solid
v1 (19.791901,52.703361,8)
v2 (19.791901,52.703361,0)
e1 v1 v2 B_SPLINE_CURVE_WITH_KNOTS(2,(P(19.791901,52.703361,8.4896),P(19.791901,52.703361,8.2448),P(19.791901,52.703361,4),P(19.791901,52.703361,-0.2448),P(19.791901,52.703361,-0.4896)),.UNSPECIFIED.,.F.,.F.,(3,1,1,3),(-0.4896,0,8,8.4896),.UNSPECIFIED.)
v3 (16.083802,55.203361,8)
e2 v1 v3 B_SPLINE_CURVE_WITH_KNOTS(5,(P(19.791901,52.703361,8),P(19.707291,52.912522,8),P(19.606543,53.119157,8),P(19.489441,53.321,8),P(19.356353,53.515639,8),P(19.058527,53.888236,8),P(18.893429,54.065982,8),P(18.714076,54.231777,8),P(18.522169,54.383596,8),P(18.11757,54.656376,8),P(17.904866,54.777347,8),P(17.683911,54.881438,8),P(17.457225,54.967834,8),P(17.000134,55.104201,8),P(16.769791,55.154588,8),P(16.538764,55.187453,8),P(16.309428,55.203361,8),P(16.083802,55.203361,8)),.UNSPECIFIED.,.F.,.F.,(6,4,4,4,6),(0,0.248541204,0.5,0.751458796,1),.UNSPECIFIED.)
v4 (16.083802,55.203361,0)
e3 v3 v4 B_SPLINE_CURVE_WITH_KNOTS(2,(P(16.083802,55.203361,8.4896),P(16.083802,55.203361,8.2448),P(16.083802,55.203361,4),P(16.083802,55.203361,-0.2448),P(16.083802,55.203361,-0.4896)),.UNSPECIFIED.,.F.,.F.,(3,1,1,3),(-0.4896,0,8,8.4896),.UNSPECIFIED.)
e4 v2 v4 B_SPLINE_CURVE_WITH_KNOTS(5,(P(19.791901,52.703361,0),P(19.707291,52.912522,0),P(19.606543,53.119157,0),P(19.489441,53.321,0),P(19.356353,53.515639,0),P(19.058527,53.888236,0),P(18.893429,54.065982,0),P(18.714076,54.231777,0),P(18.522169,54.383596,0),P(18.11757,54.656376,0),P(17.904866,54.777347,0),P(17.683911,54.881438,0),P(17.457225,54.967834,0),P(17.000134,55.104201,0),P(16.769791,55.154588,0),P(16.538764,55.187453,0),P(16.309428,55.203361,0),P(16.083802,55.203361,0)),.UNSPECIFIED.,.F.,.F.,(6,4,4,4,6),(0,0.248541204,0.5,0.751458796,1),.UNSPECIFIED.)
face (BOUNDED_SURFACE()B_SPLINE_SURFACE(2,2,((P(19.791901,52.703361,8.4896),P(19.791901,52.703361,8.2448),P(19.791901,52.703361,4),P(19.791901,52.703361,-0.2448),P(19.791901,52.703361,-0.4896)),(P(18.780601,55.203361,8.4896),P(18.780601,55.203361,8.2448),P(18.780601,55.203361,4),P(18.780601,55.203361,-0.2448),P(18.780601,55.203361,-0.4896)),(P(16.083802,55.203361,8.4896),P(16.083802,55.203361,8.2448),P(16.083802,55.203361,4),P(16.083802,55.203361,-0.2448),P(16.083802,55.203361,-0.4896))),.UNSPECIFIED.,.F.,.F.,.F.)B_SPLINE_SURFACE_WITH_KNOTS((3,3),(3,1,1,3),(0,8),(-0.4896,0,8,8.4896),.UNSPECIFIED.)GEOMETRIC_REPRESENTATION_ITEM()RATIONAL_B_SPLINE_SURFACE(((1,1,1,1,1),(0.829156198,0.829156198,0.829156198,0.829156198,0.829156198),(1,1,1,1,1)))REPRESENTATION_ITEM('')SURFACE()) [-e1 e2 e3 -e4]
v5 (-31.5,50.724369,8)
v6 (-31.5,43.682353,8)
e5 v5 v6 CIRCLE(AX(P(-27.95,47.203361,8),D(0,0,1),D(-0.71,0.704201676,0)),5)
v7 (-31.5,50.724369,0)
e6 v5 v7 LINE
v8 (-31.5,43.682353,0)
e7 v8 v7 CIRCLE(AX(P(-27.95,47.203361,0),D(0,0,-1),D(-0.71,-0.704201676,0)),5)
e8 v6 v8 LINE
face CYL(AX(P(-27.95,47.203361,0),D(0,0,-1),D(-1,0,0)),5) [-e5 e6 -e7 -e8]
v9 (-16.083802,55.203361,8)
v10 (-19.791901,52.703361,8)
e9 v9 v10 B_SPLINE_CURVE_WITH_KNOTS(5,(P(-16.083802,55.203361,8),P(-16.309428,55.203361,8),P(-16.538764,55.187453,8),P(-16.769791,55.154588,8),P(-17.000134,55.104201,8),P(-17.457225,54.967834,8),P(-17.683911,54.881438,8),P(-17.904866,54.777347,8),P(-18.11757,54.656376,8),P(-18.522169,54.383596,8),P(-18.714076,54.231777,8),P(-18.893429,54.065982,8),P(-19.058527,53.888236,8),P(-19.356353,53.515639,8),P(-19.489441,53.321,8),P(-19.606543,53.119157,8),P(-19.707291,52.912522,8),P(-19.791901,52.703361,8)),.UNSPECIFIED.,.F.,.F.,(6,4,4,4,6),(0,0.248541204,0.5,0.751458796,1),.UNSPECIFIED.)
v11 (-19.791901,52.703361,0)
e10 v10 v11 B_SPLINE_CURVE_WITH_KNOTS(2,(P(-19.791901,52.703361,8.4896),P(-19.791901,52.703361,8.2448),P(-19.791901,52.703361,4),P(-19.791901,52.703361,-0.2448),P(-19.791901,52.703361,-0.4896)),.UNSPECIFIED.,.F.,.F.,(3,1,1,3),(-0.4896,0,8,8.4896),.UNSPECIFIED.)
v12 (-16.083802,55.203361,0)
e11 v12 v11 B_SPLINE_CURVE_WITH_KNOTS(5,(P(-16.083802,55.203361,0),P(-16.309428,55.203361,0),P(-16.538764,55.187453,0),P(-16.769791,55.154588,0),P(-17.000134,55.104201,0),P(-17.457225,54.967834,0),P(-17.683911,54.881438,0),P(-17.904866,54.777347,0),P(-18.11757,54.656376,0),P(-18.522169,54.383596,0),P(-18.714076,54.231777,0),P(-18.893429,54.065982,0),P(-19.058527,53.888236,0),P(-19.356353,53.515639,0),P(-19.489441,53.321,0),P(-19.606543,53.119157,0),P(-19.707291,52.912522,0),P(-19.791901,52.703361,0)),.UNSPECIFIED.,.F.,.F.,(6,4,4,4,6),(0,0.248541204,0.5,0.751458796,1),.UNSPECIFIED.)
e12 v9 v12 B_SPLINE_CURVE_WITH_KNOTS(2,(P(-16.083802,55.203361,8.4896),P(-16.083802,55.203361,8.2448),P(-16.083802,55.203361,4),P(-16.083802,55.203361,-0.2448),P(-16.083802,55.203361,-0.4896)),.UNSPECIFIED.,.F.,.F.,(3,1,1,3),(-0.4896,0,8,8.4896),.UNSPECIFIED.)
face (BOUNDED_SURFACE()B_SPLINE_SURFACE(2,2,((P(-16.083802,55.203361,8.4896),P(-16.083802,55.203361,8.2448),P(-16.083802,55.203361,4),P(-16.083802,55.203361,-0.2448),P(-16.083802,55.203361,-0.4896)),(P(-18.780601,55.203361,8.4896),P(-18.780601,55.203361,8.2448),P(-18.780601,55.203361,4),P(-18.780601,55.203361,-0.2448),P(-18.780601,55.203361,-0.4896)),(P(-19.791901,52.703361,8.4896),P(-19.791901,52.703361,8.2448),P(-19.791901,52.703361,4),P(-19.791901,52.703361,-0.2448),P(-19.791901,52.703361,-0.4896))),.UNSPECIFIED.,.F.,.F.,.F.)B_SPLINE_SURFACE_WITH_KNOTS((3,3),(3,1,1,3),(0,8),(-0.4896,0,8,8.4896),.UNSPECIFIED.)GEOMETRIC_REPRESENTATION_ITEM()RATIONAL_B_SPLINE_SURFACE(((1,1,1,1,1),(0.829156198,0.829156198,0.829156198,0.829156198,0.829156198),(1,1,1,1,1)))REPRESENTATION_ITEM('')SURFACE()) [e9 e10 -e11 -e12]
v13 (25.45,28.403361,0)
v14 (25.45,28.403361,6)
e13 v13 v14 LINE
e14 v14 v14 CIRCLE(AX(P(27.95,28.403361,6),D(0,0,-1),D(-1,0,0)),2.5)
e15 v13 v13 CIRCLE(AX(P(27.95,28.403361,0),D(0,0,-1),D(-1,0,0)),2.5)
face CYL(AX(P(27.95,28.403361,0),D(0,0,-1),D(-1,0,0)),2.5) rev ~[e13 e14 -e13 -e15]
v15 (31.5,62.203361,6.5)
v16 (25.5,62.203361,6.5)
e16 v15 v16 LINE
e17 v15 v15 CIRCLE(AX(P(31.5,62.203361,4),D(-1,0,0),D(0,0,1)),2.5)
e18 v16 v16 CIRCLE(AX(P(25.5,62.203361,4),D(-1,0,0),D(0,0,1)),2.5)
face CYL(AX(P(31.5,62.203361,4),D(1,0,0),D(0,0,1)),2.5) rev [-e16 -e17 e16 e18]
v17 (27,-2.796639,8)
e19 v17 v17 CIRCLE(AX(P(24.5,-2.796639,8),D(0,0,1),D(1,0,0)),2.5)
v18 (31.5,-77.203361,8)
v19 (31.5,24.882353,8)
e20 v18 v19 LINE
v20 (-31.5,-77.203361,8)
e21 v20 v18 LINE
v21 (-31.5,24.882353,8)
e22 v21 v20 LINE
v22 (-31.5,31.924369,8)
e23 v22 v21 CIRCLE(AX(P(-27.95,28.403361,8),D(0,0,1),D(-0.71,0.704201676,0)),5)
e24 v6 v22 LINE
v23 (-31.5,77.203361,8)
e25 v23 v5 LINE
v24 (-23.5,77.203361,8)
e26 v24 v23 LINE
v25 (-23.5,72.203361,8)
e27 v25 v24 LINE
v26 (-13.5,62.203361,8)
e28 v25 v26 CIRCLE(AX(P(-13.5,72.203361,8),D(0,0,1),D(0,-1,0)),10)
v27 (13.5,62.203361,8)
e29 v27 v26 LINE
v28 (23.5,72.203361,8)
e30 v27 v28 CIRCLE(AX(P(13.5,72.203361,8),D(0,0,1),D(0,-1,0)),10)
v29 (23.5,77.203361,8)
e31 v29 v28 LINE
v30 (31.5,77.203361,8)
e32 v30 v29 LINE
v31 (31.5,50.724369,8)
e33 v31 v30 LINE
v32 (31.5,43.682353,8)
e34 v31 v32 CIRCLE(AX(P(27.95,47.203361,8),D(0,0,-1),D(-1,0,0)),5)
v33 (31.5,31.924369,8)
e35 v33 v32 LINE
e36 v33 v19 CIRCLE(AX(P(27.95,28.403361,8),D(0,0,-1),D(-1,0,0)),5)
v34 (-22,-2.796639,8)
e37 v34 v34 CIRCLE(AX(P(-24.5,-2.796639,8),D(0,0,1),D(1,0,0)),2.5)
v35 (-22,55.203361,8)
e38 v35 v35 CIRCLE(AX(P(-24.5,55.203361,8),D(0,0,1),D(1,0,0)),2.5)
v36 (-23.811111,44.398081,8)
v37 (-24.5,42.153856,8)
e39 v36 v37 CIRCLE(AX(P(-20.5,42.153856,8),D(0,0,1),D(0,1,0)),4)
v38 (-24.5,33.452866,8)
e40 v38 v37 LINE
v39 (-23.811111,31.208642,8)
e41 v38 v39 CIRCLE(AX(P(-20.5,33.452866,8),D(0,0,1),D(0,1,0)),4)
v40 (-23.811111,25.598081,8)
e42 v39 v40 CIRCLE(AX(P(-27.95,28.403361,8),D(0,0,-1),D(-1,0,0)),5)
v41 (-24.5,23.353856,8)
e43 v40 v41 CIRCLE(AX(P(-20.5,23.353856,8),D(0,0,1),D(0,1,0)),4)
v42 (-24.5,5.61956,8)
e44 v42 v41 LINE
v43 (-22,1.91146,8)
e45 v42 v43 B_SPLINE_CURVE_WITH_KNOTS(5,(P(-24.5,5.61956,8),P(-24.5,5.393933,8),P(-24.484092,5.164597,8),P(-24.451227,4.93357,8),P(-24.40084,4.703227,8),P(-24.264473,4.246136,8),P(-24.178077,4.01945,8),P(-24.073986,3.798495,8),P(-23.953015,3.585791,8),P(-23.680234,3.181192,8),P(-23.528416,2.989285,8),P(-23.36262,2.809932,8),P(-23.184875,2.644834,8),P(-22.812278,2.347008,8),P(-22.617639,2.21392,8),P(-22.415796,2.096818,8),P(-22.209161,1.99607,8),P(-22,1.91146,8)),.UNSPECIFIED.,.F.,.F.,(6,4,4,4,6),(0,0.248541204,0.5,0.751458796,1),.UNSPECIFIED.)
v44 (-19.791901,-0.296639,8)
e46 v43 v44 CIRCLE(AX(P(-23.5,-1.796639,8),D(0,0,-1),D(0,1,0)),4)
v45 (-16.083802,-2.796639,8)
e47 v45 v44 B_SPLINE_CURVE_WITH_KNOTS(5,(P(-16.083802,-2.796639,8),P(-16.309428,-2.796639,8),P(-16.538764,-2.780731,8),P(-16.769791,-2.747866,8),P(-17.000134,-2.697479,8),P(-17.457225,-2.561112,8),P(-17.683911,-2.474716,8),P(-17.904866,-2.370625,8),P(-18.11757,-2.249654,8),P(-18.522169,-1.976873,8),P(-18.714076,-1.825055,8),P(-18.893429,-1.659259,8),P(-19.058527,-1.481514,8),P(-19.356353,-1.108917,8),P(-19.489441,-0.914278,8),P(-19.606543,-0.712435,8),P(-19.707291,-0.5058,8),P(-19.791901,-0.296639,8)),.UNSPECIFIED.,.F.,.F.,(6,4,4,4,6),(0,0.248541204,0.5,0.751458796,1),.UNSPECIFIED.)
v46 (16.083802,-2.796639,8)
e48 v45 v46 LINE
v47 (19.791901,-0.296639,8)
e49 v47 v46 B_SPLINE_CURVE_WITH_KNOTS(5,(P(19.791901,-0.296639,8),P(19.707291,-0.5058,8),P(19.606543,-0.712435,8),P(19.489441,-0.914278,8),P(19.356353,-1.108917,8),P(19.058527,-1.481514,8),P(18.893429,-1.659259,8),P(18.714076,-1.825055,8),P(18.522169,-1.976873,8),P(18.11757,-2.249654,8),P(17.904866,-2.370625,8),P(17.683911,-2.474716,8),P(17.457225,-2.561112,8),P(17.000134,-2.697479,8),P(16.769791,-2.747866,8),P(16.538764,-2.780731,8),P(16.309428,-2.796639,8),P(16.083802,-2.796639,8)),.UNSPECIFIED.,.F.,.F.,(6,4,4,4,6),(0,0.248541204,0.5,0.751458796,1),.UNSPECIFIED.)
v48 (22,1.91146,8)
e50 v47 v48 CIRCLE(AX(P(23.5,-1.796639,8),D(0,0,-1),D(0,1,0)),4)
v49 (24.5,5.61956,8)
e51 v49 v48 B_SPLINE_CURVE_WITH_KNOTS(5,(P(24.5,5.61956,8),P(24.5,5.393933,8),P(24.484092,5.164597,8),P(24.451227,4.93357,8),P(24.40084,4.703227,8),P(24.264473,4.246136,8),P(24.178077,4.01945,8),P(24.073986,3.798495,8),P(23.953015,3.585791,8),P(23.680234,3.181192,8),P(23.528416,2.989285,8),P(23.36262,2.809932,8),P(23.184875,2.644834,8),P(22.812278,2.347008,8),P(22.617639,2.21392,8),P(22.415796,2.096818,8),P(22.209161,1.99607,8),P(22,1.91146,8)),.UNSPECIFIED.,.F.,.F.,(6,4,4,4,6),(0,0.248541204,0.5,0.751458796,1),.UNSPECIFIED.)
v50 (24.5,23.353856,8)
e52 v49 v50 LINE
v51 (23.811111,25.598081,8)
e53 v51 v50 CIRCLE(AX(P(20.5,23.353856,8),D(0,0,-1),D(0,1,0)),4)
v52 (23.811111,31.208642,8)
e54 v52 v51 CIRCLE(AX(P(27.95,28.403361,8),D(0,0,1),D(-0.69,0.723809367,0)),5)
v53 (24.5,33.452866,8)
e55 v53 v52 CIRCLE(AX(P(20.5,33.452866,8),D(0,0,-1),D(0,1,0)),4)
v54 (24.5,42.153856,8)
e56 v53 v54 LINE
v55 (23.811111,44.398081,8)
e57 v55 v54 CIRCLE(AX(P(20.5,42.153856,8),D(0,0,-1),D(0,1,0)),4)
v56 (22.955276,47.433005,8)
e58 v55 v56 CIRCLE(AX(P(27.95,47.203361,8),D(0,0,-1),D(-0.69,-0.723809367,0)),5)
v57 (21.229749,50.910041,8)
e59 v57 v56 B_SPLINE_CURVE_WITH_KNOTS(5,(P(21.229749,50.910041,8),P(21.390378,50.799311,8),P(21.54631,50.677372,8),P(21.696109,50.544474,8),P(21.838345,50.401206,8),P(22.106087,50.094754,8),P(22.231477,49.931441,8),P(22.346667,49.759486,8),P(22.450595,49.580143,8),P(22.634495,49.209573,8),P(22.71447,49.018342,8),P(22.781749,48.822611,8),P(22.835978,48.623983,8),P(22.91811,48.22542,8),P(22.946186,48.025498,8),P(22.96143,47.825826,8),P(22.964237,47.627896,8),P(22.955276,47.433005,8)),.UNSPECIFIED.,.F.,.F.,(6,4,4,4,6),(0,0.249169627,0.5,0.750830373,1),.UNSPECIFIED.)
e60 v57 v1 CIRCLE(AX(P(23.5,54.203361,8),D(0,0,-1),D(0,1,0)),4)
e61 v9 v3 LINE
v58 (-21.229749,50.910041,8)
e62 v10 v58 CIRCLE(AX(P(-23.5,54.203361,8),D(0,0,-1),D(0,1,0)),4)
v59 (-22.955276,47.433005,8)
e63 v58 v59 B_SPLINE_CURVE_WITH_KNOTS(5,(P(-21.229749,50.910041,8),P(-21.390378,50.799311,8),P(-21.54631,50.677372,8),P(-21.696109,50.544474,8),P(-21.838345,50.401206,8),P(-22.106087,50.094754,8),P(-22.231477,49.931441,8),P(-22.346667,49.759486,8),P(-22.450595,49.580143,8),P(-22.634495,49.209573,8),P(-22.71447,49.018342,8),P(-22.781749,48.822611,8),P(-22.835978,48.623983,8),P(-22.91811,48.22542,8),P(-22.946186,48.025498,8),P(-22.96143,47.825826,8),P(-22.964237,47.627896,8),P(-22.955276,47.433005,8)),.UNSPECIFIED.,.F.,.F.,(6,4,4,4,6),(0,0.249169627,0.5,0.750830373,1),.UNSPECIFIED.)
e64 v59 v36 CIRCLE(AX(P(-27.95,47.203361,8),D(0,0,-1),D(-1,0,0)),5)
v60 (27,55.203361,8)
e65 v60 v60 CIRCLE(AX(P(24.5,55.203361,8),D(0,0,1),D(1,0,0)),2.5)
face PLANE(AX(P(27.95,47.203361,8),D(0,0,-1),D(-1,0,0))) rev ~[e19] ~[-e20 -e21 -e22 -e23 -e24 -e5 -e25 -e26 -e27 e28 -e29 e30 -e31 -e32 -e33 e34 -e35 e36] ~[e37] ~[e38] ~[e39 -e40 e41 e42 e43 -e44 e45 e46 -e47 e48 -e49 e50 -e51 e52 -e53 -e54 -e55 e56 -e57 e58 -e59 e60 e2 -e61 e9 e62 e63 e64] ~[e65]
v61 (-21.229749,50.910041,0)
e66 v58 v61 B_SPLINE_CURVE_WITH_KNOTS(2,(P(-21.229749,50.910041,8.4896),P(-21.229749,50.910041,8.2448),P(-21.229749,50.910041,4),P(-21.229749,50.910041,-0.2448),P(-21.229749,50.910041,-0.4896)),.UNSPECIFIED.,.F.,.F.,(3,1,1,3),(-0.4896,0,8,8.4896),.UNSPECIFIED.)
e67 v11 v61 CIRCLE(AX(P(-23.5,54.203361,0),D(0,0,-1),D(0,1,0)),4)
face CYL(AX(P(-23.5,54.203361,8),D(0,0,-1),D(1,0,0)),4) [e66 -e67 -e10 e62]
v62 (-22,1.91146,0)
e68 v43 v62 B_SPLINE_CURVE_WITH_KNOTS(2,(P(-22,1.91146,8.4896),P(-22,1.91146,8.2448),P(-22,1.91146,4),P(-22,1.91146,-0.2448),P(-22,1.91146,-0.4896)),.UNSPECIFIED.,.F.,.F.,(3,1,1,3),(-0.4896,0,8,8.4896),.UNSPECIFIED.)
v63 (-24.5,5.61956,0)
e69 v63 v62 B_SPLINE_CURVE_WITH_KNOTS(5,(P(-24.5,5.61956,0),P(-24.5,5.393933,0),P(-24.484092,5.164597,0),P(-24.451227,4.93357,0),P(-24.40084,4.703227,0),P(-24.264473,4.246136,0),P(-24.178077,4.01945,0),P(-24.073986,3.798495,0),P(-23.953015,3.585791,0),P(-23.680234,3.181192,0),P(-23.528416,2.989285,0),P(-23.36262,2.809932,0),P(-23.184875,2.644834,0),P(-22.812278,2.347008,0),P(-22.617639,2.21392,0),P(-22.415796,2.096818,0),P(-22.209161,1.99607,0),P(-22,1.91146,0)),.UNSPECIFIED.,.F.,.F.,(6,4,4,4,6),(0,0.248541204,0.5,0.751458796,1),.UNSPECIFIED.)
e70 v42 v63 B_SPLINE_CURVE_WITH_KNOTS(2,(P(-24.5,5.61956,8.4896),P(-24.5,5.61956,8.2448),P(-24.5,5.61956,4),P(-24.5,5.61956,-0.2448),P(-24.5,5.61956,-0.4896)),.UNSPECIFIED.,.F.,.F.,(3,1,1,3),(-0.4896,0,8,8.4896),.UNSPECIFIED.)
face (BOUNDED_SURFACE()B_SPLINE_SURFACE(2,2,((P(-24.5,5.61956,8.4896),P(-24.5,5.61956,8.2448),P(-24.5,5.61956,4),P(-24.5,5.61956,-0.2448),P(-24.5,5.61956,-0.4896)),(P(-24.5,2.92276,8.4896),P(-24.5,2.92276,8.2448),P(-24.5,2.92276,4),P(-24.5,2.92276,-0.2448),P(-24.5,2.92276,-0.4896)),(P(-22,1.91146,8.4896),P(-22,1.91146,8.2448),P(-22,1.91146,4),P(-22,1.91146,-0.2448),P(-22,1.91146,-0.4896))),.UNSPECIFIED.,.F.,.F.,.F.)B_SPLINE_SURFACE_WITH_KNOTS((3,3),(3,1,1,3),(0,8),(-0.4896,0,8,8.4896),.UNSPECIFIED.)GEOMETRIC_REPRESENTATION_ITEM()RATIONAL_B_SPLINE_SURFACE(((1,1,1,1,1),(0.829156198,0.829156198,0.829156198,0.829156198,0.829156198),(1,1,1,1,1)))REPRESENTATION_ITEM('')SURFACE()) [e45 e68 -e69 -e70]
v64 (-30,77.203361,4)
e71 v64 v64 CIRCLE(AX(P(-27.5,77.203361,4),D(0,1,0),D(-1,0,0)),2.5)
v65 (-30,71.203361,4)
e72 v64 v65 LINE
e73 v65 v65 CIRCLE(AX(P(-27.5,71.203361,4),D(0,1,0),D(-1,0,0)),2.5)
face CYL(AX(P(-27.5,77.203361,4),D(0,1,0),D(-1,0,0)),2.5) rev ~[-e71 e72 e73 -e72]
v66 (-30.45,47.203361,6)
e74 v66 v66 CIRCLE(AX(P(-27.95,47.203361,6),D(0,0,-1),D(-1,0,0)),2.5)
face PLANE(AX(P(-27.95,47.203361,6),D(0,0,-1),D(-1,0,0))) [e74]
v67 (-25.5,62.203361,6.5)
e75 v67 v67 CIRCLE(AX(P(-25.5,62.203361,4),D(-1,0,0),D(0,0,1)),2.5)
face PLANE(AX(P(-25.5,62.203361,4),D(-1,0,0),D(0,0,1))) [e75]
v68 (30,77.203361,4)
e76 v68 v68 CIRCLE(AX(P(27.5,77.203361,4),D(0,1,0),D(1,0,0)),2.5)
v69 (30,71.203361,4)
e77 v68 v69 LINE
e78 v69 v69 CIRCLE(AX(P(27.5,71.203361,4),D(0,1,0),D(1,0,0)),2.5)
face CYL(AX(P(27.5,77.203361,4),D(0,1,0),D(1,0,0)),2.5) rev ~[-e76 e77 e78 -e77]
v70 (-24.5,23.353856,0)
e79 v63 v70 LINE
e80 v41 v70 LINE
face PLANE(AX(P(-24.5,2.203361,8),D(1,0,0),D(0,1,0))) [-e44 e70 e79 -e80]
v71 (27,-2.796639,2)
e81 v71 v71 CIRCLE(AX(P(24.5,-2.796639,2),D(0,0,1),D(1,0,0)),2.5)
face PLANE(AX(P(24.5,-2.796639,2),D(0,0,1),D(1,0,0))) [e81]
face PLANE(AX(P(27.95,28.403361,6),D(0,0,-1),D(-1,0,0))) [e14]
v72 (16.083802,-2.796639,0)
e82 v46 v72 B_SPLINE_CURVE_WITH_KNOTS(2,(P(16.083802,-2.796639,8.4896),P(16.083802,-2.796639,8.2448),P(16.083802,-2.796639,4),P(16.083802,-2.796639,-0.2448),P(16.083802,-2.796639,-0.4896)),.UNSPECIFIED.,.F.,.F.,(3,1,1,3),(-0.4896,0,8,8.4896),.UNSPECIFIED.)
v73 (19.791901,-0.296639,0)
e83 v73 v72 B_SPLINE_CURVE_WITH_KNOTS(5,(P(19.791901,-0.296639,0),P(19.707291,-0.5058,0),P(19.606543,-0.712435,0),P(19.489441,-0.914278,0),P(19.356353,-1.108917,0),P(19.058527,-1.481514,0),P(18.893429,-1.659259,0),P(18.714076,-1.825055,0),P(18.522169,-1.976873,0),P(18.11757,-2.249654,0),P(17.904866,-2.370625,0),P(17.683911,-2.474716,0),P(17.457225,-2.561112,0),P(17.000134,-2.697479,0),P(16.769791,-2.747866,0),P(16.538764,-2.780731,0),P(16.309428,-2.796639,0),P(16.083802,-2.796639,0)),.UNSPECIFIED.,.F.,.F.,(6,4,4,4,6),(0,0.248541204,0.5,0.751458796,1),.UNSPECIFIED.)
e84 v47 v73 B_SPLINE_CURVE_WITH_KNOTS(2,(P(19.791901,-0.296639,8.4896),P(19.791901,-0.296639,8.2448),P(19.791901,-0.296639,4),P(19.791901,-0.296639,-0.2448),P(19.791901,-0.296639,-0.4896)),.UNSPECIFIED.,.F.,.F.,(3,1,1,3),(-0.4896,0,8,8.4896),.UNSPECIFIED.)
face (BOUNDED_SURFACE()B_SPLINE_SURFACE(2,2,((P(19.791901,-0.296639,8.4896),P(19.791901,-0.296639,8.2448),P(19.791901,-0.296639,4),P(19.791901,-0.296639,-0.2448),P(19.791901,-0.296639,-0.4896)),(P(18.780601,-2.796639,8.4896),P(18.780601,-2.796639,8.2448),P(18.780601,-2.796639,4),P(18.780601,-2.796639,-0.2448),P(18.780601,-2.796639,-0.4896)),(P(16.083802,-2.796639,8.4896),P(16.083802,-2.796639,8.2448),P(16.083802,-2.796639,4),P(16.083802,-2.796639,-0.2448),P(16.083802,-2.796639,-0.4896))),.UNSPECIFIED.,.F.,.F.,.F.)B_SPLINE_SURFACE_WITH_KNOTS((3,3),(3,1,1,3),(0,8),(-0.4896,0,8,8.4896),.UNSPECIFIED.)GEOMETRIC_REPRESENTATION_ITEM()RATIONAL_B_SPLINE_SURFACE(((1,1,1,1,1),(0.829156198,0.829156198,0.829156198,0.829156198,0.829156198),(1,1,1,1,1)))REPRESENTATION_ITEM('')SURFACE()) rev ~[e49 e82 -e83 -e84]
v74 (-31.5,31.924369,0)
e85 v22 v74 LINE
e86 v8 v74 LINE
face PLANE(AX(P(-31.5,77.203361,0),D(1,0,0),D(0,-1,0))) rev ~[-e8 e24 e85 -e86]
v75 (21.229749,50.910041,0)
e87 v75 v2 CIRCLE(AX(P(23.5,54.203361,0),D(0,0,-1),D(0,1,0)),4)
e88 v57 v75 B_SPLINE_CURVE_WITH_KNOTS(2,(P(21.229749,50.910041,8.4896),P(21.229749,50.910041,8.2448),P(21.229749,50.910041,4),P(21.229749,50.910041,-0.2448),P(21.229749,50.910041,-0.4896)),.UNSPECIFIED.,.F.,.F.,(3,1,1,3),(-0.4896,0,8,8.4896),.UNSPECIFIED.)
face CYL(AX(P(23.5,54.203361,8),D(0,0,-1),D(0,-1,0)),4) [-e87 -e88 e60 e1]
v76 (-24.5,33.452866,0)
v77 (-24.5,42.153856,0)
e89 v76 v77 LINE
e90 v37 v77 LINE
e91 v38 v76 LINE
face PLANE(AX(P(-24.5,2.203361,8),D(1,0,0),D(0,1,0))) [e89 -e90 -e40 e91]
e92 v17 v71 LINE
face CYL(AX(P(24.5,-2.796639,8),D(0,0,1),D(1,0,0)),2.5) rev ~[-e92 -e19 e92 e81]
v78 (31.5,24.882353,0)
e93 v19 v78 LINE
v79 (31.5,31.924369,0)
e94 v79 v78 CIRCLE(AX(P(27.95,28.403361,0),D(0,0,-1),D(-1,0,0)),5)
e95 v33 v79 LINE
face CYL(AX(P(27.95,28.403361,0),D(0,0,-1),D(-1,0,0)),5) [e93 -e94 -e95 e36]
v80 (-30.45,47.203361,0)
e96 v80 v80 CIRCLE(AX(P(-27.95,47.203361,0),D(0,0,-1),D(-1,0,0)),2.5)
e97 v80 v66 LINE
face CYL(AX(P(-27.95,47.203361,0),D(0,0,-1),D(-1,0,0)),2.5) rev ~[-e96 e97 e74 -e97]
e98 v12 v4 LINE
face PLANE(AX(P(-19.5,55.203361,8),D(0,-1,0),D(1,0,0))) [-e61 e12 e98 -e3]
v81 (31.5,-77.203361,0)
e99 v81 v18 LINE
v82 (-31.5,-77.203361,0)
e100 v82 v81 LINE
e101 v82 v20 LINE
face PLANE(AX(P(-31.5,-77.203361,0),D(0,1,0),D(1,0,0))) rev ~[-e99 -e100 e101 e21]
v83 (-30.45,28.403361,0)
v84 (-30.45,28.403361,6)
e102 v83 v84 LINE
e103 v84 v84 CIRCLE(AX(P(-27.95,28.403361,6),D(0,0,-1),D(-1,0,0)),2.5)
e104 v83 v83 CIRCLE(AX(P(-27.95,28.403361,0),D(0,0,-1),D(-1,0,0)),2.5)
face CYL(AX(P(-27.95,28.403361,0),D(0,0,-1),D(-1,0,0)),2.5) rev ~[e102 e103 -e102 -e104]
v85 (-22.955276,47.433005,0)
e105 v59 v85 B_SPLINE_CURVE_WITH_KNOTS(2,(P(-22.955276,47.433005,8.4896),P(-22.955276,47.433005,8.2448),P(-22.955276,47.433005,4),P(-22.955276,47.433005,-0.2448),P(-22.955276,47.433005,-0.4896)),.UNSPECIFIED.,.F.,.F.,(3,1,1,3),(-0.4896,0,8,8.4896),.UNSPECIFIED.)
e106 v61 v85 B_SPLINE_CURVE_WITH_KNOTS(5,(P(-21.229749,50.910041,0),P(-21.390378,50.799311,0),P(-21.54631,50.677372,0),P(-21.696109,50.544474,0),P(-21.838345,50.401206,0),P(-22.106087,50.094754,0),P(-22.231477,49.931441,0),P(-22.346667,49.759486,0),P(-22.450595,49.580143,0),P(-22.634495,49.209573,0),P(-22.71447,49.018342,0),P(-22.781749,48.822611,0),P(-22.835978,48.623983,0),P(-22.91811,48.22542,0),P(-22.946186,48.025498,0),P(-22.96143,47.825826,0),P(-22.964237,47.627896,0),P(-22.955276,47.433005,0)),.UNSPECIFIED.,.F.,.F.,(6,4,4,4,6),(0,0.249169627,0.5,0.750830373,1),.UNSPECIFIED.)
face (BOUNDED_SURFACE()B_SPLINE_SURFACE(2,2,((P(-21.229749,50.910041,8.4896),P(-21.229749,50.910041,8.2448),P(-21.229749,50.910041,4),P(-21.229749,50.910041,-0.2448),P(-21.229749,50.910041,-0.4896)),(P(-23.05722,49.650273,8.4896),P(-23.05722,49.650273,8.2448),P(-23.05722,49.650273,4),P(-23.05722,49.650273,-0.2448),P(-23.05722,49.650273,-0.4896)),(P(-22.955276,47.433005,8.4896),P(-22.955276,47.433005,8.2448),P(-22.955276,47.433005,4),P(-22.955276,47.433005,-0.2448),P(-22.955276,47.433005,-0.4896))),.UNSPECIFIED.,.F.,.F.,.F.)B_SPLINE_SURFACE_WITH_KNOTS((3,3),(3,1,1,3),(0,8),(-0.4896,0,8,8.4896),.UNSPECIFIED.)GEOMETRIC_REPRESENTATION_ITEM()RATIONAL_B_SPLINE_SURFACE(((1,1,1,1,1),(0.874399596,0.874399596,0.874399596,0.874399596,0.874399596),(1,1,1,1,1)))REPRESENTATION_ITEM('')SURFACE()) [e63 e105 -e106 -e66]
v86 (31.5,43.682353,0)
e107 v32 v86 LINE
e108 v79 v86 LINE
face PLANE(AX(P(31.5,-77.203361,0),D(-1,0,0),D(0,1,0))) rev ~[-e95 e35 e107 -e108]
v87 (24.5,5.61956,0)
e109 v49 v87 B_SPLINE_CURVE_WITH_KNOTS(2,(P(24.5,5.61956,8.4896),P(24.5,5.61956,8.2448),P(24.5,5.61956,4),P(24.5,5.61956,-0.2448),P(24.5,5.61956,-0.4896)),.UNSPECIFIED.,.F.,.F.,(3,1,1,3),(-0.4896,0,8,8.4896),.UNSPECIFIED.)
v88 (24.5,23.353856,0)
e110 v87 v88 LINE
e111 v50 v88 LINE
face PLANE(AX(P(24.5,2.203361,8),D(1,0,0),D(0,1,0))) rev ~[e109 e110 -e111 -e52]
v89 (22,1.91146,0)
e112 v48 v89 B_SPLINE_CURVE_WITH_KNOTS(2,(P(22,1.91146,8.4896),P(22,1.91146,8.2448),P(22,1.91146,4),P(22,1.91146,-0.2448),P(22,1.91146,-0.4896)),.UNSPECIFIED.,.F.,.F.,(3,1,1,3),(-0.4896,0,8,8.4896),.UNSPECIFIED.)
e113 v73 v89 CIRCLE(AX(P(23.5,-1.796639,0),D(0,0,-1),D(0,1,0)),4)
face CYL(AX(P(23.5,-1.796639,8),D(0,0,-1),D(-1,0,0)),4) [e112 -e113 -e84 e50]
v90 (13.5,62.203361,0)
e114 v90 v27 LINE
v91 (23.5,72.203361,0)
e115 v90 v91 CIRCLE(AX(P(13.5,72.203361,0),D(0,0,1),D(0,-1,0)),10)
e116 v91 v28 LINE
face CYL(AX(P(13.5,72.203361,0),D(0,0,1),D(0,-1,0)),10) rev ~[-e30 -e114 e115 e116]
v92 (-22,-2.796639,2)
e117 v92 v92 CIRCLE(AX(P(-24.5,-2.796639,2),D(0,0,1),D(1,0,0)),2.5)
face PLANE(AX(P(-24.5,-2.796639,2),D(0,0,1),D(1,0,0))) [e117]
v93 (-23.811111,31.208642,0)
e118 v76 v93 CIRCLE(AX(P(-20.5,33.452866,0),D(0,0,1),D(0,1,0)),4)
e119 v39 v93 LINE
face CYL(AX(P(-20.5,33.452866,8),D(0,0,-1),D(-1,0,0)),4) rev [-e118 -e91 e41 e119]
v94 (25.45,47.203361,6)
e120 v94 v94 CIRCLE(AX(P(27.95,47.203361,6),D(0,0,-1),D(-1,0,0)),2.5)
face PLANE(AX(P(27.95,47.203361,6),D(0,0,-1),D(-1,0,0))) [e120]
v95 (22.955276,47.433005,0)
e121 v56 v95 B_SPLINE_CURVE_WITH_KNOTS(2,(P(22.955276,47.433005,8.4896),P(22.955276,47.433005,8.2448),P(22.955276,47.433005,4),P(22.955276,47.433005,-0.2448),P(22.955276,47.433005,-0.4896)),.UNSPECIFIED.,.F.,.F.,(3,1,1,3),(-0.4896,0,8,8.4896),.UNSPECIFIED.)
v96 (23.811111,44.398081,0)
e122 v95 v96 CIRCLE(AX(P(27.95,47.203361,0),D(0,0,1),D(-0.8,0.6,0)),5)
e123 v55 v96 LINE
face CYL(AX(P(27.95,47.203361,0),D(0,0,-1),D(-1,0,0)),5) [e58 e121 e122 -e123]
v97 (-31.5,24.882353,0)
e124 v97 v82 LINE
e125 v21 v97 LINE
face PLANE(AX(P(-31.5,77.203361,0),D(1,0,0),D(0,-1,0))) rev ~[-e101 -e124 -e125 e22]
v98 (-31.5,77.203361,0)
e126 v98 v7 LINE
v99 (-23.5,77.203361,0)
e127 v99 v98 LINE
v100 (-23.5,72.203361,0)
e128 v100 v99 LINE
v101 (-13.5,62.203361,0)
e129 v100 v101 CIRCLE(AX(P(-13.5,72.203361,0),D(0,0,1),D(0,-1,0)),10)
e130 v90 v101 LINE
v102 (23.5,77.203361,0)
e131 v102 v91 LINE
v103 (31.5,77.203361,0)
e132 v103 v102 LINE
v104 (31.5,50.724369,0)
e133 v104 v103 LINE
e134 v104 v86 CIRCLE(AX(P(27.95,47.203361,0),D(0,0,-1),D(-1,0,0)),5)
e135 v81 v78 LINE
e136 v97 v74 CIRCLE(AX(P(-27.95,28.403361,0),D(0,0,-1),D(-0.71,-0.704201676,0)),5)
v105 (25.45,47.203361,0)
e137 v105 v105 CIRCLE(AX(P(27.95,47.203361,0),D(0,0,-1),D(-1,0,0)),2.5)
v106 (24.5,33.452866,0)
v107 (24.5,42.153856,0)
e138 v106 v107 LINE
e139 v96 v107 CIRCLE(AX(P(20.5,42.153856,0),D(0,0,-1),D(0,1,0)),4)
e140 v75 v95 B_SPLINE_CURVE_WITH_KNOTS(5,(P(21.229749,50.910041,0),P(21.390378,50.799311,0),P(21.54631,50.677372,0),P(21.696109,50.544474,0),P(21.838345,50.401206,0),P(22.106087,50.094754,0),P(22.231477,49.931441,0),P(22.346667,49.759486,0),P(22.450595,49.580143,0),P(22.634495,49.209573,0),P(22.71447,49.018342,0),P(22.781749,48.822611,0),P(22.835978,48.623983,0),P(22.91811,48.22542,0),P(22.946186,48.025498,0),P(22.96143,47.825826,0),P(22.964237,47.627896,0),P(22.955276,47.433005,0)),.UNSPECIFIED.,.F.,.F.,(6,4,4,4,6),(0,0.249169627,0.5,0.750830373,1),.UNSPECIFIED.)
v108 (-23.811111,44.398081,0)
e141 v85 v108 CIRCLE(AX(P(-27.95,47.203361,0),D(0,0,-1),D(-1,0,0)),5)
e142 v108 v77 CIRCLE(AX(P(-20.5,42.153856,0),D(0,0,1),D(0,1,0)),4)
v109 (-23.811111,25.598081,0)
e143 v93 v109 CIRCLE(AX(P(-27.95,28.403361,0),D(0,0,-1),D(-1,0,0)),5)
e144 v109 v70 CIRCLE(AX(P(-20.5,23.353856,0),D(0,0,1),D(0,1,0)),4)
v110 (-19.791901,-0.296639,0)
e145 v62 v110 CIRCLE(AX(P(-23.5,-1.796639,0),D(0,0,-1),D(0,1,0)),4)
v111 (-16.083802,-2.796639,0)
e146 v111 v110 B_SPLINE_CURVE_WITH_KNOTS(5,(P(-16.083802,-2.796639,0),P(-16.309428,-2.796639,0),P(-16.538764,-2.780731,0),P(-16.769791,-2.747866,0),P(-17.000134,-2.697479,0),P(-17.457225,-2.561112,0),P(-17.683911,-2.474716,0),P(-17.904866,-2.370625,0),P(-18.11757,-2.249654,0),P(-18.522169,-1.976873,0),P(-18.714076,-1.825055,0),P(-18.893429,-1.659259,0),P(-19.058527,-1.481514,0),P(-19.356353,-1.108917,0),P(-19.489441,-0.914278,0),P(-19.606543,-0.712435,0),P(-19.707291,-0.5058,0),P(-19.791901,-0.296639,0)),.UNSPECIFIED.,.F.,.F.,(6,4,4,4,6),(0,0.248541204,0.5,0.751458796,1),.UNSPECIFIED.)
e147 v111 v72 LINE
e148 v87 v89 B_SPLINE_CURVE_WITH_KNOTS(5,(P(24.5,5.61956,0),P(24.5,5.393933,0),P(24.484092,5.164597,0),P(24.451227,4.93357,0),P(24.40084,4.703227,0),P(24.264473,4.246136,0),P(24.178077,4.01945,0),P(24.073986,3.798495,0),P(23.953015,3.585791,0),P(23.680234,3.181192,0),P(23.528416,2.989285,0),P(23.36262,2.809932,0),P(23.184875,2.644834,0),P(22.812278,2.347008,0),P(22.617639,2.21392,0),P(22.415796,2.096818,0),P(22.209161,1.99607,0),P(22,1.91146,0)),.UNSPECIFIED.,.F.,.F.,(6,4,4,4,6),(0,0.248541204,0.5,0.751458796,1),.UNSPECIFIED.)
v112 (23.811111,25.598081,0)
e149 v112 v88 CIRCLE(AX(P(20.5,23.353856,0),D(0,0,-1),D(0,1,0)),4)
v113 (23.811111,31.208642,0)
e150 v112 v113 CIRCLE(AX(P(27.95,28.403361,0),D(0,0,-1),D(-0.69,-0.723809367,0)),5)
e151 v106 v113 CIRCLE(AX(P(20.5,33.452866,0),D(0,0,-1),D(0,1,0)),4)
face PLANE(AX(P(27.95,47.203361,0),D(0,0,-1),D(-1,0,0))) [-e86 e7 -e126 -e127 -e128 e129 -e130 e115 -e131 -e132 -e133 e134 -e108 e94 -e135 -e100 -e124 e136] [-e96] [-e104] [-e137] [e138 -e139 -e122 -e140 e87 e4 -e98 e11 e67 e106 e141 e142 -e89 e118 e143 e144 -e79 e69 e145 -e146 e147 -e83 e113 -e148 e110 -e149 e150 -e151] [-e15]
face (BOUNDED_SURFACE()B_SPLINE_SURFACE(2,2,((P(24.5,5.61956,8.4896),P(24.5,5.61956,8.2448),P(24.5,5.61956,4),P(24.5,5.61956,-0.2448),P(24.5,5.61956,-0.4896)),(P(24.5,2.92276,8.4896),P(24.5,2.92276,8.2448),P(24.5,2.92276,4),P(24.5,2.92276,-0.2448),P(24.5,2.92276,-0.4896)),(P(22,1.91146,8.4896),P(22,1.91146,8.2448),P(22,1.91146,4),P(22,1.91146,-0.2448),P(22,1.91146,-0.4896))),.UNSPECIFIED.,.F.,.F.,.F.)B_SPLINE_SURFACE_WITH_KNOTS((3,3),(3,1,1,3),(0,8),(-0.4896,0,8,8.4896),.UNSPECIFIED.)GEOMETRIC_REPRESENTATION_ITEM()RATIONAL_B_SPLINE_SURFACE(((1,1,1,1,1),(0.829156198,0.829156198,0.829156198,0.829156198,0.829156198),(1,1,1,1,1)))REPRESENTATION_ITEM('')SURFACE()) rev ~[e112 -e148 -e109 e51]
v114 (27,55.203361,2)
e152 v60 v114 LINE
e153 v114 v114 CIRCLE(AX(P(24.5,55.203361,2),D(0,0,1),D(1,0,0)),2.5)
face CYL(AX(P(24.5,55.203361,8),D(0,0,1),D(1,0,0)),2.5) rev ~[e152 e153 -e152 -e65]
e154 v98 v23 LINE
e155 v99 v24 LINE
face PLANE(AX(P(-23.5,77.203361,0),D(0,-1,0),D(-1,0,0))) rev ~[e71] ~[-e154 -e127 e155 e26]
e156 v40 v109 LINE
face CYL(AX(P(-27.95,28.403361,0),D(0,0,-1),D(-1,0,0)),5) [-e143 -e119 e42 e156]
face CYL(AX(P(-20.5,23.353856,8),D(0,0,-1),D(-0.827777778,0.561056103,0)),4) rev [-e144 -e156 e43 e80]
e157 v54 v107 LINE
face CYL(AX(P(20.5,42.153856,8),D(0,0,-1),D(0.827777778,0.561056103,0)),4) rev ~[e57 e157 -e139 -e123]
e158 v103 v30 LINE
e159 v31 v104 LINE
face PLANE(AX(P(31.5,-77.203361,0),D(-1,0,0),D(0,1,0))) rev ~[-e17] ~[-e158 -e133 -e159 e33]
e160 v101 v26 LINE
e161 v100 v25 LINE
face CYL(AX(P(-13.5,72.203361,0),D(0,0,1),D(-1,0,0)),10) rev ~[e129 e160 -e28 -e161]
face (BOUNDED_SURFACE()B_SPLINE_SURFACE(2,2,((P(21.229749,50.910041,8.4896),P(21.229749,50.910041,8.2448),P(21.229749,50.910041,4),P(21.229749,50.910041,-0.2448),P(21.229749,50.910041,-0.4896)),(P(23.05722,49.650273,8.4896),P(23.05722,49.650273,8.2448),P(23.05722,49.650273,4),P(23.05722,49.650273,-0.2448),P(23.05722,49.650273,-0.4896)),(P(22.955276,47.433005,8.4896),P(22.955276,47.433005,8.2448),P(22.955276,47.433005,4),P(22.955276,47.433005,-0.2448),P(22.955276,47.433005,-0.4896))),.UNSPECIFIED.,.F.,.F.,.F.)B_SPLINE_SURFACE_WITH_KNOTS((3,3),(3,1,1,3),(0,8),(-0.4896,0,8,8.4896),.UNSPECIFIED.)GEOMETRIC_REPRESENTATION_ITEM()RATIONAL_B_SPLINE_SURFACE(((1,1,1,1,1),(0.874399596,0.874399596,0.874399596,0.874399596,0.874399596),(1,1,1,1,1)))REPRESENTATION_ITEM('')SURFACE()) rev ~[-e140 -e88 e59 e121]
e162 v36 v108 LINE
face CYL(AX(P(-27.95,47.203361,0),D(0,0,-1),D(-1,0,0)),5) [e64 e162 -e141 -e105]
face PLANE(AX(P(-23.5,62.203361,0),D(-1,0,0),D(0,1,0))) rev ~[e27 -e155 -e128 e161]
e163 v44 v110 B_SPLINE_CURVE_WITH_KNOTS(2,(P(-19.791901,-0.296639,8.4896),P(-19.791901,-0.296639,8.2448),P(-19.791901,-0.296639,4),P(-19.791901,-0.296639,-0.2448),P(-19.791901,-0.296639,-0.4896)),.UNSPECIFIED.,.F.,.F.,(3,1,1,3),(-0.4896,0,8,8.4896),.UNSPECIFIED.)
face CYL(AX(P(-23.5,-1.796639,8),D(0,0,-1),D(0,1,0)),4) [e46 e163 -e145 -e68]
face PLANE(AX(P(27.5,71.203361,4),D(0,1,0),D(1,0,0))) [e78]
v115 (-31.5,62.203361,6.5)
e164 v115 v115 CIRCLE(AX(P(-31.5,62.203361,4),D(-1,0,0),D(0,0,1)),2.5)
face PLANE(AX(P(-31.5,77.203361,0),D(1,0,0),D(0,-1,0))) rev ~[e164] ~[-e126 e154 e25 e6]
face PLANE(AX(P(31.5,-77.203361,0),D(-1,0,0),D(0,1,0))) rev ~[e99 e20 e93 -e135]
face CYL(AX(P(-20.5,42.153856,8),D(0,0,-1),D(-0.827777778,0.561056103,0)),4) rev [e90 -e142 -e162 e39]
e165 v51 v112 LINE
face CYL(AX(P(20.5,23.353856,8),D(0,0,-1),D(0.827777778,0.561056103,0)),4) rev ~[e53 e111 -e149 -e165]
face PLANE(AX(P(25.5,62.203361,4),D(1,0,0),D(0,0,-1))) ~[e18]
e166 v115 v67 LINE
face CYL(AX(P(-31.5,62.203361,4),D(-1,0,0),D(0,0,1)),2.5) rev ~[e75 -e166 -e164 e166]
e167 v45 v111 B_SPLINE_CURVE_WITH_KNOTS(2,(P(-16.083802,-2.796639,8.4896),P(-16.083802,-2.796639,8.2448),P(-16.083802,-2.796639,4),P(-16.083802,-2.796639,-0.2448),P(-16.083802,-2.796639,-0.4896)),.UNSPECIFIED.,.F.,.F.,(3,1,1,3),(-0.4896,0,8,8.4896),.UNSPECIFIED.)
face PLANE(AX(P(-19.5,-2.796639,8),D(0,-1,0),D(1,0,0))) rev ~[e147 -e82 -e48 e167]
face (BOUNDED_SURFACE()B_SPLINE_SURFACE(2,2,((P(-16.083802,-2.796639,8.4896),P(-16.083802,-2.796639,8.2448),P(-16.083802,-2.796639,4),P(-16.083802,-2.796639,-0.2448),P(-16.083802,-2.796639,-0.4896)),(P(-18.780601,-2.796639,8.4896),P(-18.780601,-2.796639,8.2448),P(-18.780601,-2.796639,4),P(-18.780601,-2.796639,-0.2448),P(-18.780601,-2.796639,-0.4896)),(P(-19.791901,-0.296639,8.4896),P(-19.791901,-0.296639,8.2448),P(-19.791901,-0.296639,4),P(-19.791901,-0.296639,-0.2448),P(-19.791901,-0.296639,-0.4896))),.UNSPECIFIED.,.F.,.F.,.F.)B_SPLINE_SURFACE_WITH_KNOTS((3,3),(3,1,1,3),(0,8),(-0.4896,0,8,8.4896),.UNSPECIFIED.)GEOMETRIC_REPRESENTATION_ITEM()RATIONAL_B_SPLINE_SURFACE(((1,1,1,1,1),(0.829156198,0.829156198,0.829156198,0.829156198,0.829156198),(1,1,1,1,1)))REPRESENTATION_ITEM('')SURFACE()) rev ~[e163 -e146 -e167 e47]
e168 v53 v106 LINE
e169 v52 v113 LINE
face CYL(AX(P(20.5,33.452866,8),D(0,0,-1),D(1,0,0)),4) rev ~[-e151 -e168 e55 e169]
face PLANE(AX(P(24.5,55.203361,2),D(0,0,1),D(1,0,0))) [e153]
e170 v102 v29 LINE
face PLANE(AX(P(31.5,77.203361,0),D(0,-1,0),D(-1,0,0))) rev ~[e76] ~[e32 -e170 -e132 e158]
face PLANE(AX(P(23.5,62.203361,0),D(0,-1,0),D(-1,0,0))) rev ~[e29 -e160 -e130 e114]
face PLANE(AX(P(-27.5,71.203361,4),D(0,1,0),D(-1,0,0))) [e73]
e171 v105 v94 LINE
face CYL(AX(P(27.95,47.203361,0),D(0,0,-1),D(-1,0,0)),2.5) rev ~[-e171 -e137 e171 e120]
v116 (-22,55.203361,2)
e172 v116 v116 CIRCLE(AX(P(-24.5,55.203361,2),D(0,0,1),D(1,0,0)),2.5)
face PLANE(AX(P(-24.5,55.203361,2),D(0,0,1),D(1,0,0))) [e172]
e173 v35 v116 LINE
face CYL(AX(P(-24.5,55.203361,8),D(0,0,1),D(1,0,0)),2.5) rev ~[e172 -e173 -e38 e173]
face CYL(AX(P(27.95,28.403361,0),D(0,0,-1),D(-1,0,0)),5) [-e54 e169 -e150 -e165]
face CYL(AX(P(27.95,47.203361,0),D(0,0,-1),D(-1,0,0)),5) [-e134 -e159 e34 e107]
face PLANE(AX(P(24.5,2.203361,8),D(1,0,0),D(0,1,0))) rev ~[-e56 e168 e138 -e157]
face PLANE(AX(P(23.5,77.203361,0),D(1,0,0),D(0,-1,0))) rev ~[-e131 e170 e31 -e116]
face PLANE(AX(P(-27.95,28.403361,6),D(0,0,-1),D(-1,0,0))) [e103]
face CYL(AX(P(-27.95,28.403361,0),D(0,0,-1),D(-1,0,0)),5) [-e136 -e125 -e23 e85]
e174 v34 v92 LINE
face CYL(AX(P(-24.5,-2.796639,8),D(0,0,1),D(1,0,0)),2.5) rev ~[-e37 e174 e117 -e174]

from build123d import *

# Parameters (mm, degrees)
EXTRUDE_1_DEPTH     = 8
SKETCH_2_R          = 2.5
CUT_EXTRUDE_1_DEPTH = 6
SKETCH_3_R          = 2.5
CUT_EXTRUDE_2_DEPTH = 6
FILLET_1_R          = 10
SKETCH_4_W          = 39
SKETCH_4_H          = 48
SKETCH_4_W_2        = 5
SKETCH_4_H_2        = 5
CUT_EXTRUDE_3_DEPTH = 21
SKETCH_5_R          = 5
EXTRUDE_2_DEPTH     = 8
FILLET_2_R          = 4
FILLET_3_R          = 4
SKETCH_6_R          = 2.5
CUT_EXTRUDE_4_DEPTH = 6
SKETCH_7_R          = 2.5
CUT_EXTRUDE_5_DEPTH = 6


with BuildPart() as part:
    # Эскиз1 → Бобышка-Вытянуть1 (new body)
    with BuildSketch(Plane.XY):
        Polygon((-23.5, 62.203361065), (-23.5, 77.203361065), (-31.5, 77.203361065), (-31.5, -77.203361065), (31.5, -77.203361065), (31.5, 77.203361065), (23.5, 77.203361065), (23.5, 62.203361065), align=None)
    extrude(amount=EXTRUDE_1_DEPTH)

    # Эскиз2 → Вырез-Вытянуть1 (cut)
    with BuildSketch(Plane(origin=(0, 77.203361065, 0), x_dir=(1, 0, 0), z_dir=(0, 1, 0))):
        with Locations(Location((-27.5, -4, 0), (0, 0, 180))):
            Circle(SKETCH_2_R)
        with Locations((27.5, -4)):
            Circle(SKETCH_2_R)
    extrude(amount=-CUT_EXTRUDE_1_DEPTH, mode=Mode.SUBTRACT)

    # Эскиз3 → Вырез-Вытянуть2 (cut)
    with BuildSketch(Plane.XY.offset(8)):
        with Locations((-24.5, 55.203361065)):
            Circle(SKETCH_3_R)
        with Locations((24.5, 55.203361065)):
            Circle(SKETCH_3_R)
        with Locations((24.5, -2.796638935)):
            Circle(SKETCH_3_R)
        with Locations((-24.5, -2.796638935)):
            Circle(SKETCH_3_R)
    extrude(amount=-CUT_EXTRUDE_2_DEPTH, mode=Mode.SUBTRACT)

    # Скругление1
    fillet_1_edges = [part.edges().sort_by_distance(p)[0] for p in [
        (-23.5, 62.203361065, 4),
        (23.5, 62.203361065, 4),
    ]]
    fillet(fillet_1_edges, radius=FILLET_1_R)

    # Эскиз4 → Вырез-Вытянуть3 (cut)
    with BuildSketch(Plane.XY.offset(8)):
        with Locations((0, 26.203361065)):
            Rectangle(SKETCH_4_W, SKETCH_4_H)
        with Locations((-22, 26.203361065)):
            Rectangle(SKETCH_4_W_2, SKETCH_4_H)
        with Locations((0, 52.703361065)):
            Rectangle(SKETCH_4_W, SKETCH_4_H_2)
        with Locations((22, 26.203361065)):
            Rectangle(SKETCH_4_W_2, SKETCH_4_H)
        with Locations((0, -0.296638935)):
            Rectangle(SKETCH_4_W, SKETCH_4_H_2)
    extrude(amount=-CUT_EXTRUDE_3_DEPTH, mode=Mode.SUBTRACT)

    # Эскиз5 → Бобышка-Вытянуть2 (add)
    with BuildSketch(Plane(origin=(0, 0, 0), x_dir=(-1, 0, 0), z_dir=(0, 0, -1))):
        with Locations((-27.95, 47.203361065)):
            Circle(SKETCH_5_R)
        with Locations((-27.95, 28.403361065)):
            Circle(SKETCH_5_R)
        with Locations((27.95, 28.403361065)):
            Circle(SKETCH_5_R)
        with Locations((27.95, 47.203361065)):
            Circle(SKETCH_5_R)
    extrude(amount=-EXTRUDE_2_DEPTH)

    # Скругление2
    fillet_2_edges = [part.edges().sort_by_distance(p)[0] for p in [
        (-19.5, 2.203361065, 4),
        (-19.5, 50.203361065, 4),
        (19.5, 50.203361065, 4),
        (19.5, 2.203361065, 4),
    ]]
    fillet(fillet_2_edges, radius=FILLET_2_R)

    # Скругление3
    fillet_3_edges = [part.edges().sort_by_distance(p)[0] for p in [
        (-24.5, 32.0224079, 4),
        (-24.5, 24.784314229, 4),
        (-24.5, 43.584314229, 4),
        (-23.95, 50.203361065, 4),
        (-19.5, 55.203361065, 4),
        (24.5, 32.0224079, 4),
        (24.5, 24.784314229, 4),
        (24.5, 43.584314229, 4),
        (19.5, 55.203361065, 4),
        (23.95, 50.203361065, 4),
        (24.5, 2.203361065, 4),
        (19.5, -2.796638935, 4),
        (-19.5, -2.796638935, 4),
        (-24.5, 2.203361065, 4),
    ]]
    fillet(fillet_3_edges, radius=FILLET_3_R)

    # Эскиз6 → Вырез-Вытянуть4 (cut)
    with BuildSketch(Plane(origin=(0, 0, 0), x_dir=(-1, 0, 0), z_dir=(0, 0, -1))):
        with Locations((-27.95, 47.203361065)):
            Circle(SKETCH_6_R)
        with Locations((27.95, 47.203361065)):
            Circle(SKETCH_6_R)
        with Locations((27.95, 28.403361065)):
            Circle(SKETCH_6_R)
        with Locations((-27.95, 28.403361065)):
            Circle(SKETCH_6_R)
    extrude(amount=-CUT_EXTRUDE_4_DEPTH, mode=Mode.SUBTRACT)

    # Эскиз7 → Вырез-Вытянуть5 (cut)
    with BuildSketch(Plane.ZY.offset(31.5)):
        with Locations((4, 62.203361065)):
            Circle(SKETCH_7_R)
    cut_extrude_5 = extrude(amount=-CUT_EXTRUDE_5_DEPTH, mode=Mode.SUBTRACT)

    # Зеркальное отражение1: Вырез-Вытянуть5 across plane
    add(cut_extrude_5.mirror(Plane(origin=(0, 0, 0), x_dir=(0, 0, 1), z_dir=(1, 0, 0))), mode=Mode.SUBTRACT)


solid = part.part
